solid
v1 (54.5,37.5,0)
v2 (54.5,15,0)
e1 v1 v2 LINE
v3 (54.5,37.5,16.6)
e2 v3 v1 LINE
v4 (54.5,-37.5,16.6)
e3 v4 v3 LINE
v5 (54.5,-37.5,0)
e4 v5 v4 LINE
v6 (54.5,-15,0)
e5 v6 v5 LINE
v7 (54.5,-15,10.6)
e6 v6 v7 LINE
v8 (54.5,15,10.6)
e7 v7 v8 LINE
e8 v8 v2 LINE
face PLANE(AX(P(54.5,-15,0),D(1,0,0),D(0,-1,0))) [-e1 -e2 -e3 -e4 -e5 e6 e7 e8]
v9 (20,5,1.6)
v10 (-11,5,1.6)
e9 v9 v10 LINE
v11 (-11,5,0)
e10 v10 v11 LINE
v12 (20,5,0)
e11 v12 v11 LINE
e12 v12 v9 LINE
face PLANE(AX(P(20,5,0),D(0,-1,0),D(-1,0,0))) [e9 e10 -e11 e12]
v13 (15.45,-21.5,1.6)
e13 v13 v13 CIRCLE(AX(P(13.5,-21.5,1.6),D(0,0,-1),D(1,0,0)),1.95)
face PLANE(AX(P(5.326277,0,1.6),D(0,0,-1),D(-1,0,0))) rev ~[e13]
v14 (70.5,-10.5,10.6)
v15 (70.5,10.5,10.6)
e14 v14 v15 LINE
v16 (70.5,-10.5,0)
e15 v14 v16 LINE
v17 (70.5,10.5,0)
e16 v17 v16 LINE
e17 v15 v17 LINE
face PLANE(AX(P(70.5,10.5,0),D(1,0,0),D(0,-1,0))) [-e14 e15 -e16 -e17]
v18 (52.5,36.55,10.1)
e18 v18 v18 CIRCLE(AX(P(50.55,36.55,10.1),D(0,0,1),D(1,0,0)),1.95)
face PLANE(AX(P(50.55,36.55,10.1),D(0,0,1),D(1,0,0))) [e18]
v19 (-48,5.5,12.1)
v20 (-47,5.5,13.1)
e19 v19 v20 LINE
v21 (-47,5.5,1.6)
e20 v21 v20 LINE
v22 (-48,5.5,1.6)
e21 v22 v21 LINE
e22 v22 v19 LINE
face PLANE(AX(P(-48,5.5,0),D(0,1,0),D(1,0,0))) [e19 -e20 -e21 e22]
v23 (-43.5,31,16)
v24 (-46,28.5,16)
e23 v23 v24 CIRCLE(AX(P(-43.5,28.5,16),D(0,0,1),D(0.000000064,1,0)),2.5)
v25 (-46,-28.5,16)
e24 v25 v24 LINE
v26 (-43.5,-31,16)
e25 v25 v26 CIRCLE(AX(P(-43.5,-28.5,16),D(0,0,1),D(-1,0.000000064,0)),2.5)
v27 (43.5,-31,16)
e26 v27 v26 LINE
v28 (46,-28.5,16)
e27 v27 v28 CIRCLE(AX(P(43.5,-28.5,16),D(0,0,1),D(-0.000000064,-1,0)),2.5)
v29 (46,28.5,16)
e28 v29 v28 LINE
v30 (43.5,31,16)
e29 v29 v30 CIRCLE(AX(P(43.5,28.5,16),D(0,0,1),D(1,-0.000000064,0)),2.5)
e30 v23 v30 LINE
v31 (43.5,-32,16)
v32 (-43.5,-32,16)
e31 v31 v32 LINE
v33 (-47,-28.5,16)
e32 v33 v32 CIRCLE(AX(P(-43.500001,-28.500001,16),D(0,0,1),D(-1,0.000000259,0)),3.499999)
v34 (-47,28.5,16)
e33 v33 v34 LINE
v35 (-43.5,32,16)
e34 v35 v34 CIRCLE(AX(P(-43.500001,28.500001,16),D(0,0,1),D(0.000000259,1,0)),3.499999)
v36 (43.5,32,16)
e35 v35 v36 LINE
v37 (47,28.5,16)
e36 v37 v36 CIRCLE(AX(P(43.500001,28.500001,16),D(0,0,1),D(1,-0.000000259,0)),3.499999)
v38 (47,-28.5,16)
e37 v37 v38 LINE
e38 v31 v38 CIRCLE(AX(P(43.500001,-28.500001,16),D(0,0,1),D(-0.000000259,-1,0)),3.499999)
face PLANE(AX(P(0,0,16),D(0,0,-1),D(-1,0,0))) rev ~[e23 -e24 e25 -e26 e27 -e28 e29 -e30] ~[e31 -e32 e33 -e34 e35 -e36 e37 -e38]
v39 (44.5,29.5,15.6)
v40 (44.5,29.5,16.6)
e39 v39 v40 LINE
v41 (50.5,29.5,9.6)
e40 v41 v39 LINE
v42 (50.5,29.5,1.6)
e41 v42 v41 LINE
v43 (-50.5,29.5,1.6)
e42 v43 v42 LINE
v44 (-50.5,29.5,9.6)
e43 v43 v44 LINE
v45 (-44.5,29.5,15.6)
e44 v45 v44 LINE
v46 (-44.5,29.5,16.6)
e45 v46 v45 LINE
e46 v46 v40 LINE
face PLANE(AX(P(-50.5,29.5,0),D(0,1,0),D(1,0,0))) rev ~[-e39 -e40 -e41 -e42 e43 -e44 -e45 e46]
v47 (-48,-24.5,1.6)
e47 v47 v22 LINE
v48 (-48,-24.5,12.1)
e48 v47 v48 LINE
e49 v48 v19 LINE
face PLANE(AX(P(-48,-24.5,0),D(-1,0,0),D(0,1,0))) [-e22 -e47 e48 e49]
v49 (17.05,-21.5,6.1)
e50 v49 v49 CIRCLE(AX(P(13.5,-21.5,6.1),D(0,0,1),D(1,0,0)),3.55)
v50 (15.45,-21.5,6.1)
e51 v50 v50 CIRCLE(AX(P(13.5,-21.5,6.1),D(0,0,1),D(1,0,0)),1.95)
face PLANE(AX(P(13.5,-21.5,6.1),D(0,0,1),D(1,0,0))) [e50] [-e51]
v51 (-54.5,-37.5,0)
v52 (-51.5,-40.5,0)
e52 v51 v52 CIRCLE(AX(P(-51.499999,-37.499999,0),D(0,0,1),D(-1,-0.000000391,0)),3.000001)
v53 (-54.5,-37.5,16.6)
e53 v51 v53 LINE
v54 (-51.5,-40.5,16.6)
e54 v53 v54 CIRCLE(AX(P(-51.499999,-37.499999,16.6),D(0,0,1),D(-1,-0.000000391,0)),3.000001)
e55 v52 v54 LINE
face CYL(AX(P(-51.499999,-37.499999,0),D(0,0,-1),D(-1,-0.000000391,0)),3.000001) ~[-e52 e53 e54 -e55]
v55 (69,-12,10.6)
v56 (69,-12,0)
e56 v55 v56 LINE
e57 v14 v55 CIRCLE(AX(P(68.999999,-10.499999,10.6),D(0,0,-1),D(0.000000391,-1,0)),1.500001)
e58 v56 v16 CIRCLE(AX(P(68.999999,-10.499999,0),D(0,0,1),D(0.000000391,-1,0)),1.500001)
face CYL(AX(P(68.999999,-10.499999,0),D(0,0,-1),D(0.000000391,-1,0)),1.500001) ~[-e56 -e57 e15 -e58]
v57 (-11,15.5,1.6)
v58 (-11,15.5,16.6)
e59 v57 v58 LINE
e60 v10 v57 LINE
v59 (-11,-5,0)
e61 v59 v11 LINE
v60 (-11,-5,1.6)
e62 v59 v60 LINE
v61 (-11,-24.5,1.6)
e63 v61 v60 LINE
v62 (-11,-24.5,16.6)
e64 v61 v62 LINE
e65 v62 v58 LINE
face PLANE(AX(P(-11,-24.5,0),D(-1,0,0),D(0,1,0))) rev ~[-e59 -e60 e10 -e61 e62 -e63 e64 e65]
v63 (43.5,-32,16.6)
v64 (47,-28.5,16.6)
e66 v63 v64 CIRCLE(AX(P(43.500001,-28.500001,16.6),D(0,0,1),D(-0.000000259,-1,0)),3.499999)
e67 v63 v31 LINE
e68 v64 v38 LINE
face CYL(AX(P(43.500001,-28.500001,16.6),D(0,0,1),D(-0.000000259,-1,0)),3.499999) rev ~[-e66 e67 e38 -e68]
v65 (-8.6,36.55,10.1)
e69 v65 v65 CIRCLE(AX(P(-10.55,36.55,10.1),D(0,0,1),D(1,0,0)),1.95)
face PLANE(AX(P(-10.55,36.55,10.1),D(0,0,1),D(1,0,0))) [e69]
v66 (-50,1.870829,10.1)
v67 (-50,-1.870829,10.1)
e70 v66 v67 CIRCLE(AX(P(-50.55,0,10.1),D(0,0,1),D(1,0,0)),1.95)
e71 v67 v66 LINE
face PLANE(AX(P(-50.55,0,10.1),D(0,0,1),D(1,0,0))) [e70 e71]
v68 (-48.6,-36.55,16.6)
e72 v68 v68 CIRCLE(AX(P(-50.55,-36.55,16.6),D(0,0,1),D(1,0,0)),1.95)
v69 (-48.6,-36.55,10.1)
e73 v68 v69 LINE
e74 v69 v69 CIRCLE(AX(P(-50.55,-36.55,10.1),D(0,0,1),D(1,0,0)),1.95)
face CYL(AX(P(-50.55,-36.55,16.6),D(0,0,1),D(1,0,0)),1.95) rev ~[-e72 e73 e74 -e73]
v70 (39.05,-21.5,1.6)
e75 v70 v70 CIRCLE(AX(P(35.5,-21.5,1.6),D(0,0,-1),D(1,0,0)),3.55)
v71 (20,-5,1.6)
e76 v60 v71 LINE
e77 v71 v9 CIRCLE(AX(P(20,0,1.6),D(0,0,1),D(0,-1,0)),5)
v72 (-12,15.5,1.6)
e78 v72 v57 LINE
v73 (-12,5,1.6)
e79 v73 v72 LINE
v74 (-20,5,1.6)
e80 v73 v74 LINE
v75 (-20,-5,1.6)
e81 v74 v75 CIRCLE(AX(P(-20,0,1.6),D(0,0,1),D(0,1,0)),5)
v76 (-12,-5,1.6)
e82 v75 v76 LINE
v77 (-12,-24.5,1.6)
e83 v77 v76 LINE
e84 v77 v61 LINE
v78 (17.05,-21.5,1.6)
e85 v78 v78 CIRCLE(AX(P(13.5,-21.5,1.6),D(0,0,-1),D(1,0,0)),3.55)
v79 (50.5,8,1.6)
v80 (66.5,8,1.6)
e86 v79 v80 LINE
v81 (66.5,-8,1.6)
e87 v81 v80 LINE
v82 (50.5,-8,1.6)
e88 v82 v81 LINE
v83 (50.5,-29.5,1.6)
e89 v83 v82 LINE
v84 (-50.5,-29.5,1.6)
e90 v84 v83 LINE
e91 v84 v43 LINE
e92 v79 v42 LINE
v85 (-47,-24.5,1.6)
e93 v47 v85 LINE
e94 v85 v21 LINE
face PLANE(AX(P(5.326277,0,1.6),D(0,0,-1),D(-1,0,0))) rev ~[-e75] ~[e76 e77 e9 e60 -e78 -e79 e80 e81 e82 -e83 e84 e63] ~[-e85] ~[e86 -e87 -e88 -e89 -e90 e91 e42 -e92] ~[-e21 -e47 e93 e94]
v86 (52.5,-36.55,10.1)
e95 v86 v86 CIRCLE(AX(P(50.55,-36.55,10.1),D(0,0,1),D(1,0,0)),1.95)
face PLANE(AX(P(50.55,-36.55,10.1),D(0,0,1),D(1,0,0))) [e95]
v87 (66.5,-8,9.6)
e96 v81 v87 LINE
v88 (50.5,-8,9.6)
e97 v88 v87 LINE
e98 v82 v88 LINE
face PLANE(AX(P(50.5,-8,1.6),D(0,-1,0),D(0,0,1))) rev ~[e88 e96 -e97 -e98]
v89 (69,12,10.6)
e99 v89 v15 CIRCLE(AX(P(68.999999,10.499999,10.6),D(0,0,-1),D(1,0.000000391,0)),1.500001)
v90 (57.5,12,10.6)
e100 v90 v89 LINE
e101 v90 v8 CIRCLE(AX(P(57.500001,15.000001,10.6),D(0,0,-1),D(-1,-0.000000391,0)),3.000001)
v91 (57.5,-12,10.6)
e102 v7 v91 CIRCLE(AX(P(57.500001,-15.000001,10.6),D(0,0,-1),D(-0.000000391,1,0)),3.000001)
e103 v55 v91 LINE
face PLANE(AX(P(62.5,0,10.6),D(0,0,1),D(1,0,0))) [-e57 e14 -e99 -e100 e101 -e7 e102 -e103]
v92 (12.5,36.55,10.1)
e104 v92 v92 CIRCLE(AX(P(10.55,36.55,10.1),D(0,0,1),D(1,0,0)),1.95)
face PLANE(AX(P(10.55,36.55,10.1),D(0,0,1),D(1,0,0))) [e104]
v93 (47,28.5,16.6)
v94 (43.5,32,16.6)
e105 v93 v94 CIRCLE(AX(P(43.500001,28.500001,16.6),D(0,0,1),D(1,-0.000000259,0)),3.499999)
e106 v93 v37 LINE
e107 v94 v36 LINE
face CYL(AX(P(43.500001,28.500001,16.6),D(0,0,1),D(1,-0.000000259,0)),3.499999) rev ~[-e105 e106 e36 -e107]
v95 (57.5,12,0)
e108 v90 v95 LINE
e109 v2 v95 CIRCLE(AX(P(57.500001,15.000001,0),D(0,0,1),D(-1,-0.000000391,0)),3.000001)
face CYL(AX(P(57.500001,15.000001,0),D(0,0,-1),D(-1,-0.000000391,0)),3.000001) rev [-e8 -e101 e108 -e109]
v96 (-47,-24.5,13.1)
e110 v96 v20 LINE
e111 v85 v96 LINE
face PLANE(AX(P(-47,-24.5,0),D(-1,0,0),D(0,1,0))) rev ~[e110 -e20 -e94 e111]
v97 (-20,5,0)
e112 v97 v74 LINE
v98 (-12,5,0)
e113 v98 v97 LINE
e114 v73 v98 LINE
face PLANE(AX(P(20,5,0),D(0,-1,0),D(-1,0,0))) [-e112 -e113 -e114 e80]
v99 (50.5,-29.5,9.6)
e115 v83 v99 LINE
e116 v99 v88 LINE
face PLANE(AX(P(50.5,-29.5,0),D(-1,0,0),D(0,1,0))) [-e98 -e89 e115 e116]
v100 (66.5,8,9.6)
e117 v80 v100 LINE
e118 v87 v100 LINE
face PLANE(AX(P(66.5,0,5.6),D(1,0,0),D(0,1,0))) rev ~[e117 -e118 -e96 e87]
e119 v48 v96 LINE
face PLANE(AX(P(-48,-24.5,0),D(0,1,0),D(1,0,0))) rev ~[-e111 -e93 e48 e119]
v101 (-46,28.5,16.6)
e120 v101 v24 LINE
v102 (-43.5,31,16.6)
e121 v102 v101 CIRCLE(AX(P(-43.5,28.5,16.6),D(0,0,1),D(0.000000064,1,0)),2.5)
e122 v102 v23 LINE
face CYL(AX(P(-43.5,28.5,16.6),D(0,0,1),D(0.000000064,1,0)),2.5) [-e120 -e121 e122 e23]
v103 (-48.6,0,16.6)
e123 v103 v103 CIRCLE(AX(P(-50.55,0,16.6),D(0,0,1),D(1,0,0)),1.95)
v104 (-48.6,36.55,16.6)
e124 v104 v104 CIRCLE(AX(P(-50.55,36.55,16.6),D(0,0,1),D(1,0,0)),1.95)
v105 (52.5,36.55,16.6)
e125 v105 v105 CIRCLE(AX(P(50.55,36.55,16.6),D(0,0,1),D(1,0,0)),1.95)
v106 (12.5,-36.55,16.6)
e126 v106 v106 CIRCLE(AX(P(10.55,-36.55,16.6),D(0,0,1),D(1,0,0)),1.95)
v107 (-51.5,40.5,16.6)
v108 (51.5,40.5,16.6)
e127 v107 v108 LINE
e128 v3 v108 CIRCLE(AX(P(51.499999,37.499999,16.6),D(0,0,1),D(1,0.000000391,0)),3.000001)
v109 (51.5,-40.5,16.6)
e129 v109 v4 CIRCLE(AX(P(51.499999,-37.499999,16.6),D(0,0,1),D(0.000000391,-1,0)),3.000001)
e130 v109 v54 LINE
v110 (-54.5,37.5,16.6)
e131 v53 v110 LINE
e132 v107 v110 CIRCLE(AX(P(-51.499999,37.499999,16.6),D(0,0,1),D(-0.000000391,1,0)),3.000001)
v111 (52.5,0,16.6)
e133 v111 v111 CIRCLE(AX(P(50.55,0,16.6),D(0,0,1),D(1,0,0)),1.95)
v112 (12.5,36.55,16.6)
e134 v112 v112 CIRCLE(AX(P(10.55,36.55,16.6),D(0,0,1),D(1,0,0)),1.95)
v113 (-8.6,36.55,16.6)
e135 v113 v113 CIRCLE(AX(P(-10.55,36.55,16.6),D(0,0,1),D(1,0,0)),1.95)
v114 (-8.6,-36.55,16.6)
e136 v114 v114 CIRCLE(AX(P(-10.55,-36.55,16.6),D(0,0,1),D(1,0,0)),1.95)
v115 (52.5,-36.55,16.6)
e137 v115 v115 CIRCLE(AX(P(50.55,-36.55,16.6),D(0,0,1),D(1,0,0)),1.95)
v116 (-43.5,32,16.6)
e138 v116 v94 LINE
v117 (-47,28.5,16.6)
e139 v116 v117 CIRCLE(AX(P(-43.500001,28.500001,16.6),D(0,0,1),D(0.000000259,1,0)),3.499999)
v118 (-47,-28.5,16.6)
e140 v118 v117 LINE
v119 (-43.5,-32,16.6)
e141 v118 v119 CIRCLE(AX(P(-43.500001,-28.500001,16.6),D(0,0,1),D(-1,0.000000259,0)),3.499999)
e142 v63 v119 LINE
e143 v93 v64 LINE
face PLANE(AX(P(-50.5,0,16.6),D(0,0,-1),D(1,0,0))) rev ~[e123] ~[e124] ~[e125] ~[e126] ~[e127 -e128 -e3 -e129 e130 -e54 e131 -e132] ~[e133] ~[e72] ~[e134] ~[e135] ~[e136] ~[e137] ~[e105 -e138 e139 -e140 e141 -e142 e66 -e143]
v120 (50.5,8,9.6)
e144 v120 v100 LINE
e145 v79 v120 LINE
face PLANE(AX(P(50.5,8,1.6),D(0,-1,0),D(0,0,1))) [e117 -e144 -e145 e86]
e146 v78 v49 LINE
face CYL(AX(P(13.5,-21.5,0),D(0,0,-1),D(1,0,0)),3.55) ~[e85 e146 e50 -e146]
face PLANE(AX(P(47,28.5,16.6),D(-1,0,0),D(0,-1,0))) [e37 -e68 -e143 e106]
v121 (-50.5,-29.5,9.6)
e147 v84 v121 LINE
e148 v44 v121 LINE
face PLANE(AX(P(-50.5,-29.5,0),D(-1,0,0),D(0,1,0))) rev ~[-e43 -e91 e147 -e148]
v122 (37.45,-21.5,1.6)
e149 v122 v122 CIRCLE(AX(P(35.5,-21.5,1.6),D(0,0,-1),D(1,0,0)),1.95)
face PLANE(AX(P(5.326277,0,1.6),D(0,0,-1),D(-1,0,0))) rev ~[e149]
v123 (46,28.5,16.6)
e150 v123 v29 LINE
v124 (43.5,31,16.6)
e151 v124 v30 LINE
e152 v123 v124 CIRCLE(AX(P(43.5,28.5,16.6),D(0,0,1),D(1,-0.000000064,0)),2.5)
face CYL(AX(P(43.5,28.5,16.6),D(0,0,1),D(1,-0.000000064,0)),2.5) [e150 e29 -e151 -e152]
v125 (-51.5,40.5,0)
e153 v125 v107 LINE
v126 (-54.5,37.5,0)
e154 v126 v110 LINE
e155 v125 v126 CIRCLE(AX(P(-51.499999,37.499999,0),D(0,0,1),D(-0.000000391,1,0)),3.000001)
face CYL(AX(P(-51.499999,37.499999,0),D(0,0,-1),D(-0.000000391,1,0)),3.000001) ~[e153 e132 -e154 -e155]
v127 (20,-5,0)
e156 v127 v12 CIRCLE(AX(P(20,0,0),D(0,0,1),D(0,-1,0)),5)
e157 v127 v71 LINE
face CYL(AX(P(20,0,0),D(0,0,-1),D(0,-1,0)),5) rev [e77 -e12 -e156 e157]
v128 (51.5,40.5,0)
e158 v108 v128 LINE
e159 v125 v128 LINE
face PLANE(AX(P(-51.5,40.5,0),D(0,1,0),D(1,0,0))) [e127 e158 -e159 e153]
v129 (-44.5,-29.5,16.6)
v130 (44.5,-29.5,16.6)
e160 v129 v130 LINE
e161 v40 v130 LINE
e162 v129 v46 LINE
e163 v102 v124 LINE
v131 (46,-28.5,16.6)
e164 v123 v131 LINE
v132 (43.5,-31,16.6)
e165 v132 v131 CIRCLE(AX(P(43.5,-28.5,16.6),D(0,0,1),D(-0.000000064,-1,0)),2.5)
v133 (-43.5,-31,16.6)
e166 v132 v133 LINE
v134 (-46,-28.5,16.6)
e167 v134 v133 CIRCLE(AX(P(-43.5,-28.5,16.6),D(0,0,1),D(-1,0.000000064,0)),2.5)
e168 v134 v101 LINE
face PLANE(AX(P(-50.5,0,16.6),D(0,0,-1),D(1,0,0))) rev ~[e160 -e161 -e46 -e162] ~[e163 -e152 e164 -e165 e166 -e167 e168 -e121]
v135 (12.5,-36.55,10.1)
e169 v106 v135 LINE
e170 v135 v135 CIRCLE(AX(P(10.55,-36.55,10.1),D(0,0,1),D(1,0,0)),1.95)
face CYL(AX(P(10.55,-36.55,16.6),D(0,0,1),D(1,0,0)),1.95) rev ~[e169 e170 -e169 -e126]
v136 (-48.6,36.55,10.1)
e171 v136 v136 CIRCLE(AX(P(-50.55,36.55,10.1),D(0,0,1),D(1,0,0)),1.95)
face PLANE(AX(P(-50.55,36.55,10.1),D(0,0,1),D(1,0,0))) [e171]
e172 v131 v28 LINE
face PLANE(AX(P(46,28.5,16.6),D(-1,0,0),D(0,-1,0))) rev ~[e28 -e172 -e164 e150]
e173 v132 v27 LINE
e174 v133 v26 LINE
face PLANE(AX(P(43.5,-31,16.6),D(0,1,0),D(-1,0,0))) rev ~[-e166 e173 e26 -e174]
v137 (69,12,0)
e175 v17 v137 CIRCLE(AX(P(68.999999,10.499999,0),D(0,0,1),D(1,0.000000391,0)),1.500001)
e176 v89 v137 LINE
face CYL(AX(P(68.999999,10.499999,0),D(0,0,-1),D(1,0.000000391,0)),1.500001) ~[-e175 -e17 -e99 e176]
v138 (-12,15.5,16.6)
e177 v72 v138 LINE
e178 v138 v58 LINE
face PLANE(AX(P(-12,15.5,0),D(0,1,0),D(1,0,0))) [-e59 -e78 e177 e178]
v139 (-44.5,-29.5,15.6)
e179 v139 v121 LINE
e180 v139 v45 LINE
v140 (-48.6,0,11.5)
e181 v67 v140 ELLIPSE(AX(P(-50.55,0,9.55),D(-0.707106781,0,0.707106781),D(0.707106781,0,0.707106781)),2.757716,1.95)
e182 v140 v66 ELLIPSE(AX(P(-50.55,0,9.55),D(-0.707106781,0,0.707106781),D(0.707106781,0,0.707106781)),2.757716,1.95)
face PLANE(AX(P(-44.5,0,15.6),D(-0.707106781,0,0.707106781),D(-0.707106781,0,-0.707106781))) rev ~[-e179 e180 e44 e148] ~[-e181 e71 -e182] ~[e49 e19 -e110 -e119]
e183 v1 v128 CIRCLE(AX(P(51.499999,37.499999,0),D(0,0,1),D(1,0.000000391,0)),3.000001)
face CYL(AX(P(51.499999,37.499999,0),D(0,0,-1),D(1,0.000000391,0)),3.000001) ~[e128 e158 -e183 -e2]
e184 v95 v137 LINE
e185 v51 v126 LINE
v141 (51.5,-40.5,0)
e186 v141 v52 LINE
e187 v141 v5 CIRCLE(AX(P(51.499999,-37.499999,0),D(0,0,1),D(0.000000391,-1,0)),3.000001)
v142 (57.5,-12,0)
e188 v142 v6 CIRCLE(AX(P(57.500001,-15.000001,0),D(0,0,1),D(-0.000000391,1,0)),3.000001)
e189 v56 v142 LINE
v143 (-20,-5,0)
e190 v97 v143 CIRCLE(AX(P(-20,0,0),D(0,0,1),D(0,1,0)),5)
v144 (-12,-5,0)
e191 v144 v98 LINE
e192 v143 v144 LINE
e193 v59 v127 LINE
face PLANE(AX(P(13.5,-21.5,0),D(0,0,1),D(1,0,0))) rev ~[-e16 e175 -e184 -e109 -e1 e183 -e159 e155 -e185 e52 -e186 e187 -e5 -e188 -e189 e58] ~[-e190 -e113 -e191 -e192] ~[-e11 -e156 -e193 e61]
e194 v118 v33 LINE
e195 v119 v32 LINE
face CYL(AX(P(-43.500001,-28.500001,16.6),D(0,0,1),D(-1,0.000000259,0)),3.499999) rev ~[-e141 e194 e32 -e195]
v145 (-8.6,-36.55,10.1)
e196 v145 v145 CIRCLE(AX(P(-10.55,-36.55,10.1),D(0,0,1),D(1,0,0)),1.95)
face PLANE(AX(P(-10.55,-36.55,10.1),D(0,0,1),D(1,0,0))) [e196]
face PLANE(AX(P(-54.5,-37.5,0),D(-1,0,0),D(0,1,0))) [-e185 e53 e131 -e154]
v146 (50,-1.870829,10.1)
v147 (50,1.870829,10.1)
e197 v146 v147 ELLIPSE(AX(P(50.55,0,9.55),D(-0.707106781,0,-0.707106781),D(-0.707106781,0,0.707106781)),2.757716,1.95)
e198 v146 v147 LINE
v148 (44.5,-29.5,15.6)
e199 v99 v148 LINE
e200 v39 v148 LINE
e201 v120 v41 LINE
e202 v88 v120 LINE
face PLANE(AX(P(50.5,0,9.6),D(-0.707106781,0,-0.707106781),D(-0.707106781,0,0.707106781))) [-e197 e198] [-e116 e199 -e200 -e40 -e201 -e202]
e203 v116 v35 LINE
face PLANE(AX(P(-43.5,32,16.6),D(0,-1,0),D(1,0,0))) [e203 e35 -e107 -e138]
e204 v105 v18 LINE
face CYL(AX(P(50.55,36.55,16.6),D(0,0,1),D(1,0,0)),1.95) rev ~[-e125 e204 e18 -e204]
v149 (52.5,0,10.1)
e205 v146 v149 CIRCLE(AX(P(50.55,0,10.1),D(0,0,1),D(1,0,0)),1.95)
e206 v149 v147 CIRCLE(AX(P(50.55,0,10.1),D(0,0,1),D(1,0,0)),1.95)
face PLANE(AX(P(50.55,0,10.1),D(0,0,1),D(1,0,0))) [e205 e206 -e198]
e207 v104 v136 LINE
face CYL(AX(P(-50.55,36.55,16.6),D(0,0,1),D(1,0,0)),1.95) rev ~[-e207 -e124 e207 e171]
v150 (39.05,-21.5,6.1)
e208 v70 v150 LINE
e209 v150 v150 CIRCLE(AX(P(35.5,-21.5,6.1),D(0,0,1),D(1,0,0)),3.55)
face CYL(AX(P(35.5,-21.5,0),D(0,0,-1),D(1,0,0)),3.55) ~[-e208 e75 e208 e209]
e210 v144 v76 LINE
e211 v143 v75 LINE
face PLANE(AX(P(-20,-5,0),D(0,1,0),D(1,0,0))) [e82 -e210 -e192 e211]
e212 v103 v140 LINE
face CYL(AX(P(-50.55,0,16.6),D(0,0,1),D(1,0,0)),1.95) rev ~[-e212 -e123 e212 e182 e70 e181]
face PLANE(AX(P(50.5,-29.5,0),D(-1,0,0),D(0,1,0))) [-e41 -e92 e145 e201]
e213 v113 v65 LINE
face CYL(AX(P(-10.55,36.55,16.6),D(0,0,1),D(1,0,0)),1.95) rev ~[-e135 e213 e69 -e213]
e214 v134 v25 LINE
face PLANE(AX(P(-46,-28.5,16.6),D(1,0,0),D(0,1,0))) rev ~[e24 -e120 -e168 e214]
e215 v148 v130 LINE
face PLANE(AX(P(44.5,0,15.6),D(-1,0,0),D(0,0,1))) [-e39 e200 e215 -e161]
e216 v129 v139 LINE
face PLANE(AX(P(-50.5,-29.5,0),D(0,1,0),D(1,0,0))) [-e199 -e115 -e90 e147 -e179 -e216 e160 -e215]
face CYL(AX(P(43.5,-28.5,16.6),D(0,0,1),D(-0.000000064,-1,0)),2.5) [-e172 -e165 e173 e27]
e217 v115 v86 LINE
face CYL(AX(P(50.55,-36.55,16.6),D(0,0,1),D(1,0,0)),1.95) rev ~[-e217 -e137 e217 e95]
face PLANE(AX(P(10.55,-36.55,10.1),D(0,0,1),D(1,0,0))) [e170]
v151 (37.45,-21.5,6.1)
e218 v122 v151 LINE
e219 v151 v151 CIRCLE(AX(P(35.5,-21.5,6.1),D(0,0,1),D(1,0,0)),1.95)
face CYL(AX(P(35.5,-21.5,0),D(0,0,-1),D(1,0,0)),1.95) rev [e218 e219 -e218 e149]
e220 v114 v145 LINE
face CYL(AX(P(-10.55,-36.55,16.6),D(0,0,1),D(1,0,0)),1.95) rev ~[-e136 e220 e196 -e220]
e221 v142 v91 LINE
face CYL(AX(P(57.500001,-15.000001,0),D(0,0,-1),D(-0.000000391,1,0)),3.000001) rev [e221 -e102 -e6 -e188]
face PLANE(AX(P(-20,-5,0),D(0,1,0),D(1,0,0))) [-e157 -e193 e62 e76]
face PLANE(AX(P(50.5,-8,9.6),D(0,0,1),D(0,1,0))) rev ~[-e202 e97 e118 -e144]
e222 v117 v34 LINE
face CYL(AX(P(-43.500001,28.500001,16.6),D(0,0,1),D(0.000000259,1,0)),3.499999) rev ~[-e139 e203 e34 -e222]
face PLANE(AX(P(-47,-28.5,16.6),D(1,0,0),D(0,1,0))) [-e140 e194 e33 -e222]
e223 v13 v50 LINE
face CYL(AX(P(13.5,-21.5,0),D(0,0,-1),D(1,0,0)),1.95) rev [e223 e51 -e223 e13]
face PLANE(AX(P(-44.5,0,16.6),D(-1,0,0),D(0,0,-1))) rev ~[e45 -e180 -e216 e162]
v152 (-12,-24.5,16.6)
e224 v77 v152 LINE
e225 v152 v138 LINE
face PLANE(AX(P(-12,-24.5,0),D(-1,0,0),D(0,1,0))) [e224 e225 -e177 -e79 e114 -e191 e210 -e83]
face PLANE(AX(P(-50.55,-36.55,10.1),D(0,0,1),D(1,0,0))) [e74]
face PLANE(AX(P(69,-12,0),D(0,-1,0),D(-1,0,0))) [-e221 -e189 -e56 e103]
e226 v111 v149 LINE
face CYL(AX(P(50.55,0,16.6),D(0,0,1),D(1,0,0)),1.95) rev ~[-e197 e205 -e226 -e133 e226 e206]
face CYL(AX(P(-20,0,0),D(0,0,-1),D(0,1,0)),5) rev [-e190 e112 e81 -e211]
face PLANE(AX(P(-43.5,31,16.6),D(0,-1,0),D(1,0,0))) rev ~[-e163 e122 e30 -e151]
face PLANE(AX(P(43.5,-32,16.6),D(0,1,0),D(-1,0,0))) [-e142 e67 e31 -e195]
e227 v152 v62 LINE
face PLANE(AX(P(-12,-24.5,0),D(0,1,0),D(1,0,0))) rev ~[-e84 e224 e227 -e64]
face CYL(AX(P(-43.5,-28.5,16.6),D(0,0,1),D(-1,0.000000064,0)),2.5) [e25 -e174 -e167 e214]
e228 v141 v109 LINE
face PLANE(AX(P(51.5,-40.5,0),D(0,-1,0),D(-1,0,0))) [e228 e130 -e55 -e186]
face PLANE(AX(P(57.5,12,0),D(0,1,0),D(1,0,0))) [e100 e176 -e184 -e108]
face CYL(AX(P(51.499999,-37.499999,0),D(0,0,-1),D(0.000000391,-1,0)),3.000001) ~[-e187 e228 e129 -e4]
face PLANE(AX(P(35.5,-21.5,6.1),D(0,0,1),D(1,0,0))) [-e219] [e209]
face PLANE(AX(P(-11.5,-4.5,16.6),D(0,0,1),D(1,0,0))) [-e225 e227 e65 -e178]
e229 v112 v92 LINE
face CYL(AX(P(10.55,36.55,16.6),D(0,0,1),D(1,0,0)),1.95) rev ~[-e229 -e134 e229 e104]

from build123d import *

# Parameters (mm, degrees)
PAD_DEPTH       = 1.6
SKETCH_W        = 101
SKETCH_H        = 59
SKETCH_W_2      = 1
SKETCH_H_2      = 30
SKETCH_H_3      = 40
PAD001_DEPTH    = 16.6
SKETCH002_W     = 16
SKETCH002_H     = 30
POCKET_DEPTH    = 6
SKETCH003_W     = 16
SKETCH003_H     = 8
POCKET001_DEPTH = 16
SKETCH005_R     = 3.55
SKETCH005_R_2   = 1.95
PAD002_DEPTH    = 6.1
PAD005_DEPTH    = 29.5
POCKET003_DEPTH = 0.6
SKETCH004_R     = 1.95
POCKET002_DEPTH = 6.5


with BuildPart() as part:
    # Sketch001 → Pad (new body)
    with BuildSketch(Plane.XY):
        with BuildLine():
            Line((-51.5, 40.5), (51.5, 40.5))
            ThreePointArc((54.5, 37.5), (53.62132, 39.62132), (51.5, 40.5))
            Line((54.5, 37.5), (54.5, 15))
            ThreePointArc((54.5, 15), (55.37868, 12.87868), (57.5, 12))
            Line((57.5, 12), (69, 12))
            ThreePointArc((70.5, 10.5), (70.06066, 11.56066), (69, 12))
            Line((70.5, 10.5), (70.5, -10.5))
            ThreePointArc((69, -12), (70.06066, -11.56066), (70.5, -10.5))
            Line((69, -12), (57.5, -12))
            ThreePointArc((57.5, -12), (55.37868, -12.87868), (54.5, -15))
            Line((54.5, -15), (54.5, -37.5))
            ThreePointArc((51.5, -40.5), (53.62132, -39.62132), (54.5, -37.5))
            Line((51.5, -40.5), (-51.5, -40.5))
            ThreePointArc((-54.5, -37.5), (-53.62132, -39.62132), (-51.5, -40.5))
            Line((-54.5, -37.5), (-54.5, 37.5))
            ThreePointArc((-51.5, 40.5), (-53.62132, 39.62132), (-54.5, 37.5))
        make_face()
        with BuildLine():
            ThreePointArc((-20, 5), (-25, 0), (-20, -5))
            Line((-20, -5), (20, -5))
            ThreePointArc((20, -5), (25, 0), (20, 5))
            Line((20, 5), (-20, 5))
        make_face(mode=Mode.SUBTRACT)
    extrude(amount=PAD_DEPTH)

    # Sketch → Pad001 (join)
    with BuildSketch(Plane.XY):
        with BuildLine():
            Line((-51.5, 40.5), (51.5, 40.5))
            ThreePointArc((54.5, 37.5), (53.62132, 39.62132), (51.5, 40.5))
            Line((54.5, 37.5), (54.5, 15))
            ThreePointArc((54.5, 15), (55.37868, 12.87868), (57.5, 12))
            Line((57.5, 12), (69, 12))
            ThreePointArc((70.5, 10.5), (70.06066, 11.56066), (69, 12))
            Line((70.5, 10.5), (70.5, -10.5))
            ThreePointArc((69, -12), (70.06066, -11.56066), (70.5, -10.5))
            Line((69, -12), (57.5, -12))
            ThreePointArc((57.5, -12), (55.37868, -12.87868), (54.5, -15))
            Line((54.5, -15), (54.5, -37.5))
            ThreePointArc((51.5, -40.5), (53.62132, -39.62132), (54.5, -37.5))
            Line((51.5, -40.5), (-51.5, -40.5))
            ThreePointArc((-54.5, -37.5), (-53.62132, -39.62132), (-51.5, -40.5))
            Line((-54.5, -37.5), (-54.5, 37.5))
            ThreePointArc((-51.5, 40.5), (-53.62132, 39.62132), (-54.5, 37.5))
        make_face()
        Rectangle(SKETCH_W, SKETCH_H, mode=Mode.SUBTRACT)
        with Locations((-47.5, -9.5)):
            Rectangle(SKETCH_W_2, SKETCH_H_2)
        with Locations((-11.5, -4.5)):
            Rectangle(SKETCH_W_2, SKETCH_H_3)
    extrude(amount=PAD001_DEPTH)

    # Sketch002 (on DatumPlane) → Pocket (cut)
    with BuildSketch(Plane.XY.offset(16.6)):
        with Locations((62.5, 0)):
            Rectangle(SKETCH002_W, SKETCH002_H)
    extrude(amount=-POCKET_DEPTH, mode=Mode.SUBTRACT)

    # Sketch003 (on DatumPlane) → Pocket001 (cut)
    with BuildSketch(Plane.YZ.offset(50.5)):
        with Locations((0, 5.6)):
            Rectangle(SKETCH003_W, SKETCH003_H)
    extrude(amount=POCKET001_DEPTH, mode=Mode.SUBTRACT)

    # Sketch005 → Pad002 (join)
    with BuildSketch(Plane.XY):
        with Locations((13.5, -21.5)):
            Circle(SKETCH005_R)
        with Locations((13.5, -21.5)):
            Circle(SKETCH005_R_2, mode=Mode.SUBTRACT)
        with Locations((35.5, -21.5)):
            Circle(SKETCH005_R)
        with Locations((35.5, -21.5)):
            Circle(SKETCH005_R_2, mode=Mode.SUBTRACT)
    extrude(amount=PAD002_DEPTH)

    # Sketch010 → Pad005 (join, symmetric)
    with BuildSketch(Plane.XZ):
        Polygon((44.5, 16.6), (50.5, 16.6), (50.5, 9.6), (44.5, 15.6), align=None)
        Polygon((-50.5, 16.6), (-44.5, 16.6), (-44.5, 15.6), (-50.5, 9.6), align=None)
    extrude(amount=PAD005_DEPTH, both=True)

    # Sketch006 (on DatumPlane) → Pocket003 (cut)
    with BuildSketch(Plane.XY.offset(16.6)):
        with BuildLine():
            Line((-43.5, 32), (43.5, 32))
            ThreePointArc((47, 28.5), (45.974874, 30.974874), (43.5, 32))
            Line((47, 28.5), (47, -28.5))
            ThreePointArc((43.5, -32), (45.974874, -30.974874), (47, -28.5))
            Line((43.5, -32), (-43.5, -32))
            ThreePointArc((-47, -28.5), (-45.974874, -30.974874), (-43.5, -32))
            Line((-47, -28.5), (-47, 28.5))
            ThreePointArc((-43.5, 32), (-45.974874, 30.974874), (-47, 28.5))
        make_face()
        with BuildLine():
            Line((-43.5, 31), (43.5, 31))
            ThreePointArc((46, 28.5), (45.267767, 30.267767), (43.5, 31))
            Line((46, 28.5), (46, -28.5))
            ThreePointArc((43.5, -31), (45.267767, -30.267767), (46, -28.5))
            Line((43.5, -31), (-43.5, -31))
            ThreePointArc((-46, -28.5), (-45.267767, -30.267767), (-43.5, -31))
            Line((-46, -28.5), (-46, 28.5))
            ThreePointArc((-43.5, 31), (-45.267767, 30.267767), (-46, 28.5))
        make_face(mode=Mode.SUBTRACT)
    extrude(amount=-POCKET003_DEPTH, mode=Mode.SUBTRACT)

    # Sketch004 (on DatumPlane) → Pocket002 (cut)
    with BuildSketch(Plane.XY.offset(16.6)):
        with Locations((-50.55, 36.55)):
            Circle(SKETCH004_R)
        with Locations((-10.55, 36.55)):
            Circle(SKETCH004_R)
        with Locations((10.55, 36.55)):
            Circle(SKETCH004_R)
        with Locations((50.55, 36.55)):
            Circle(SKETCH004_R)
        with Locations((50.55, -36.55)):
            Circle(SKETCH004_R)
        with Locations((10.55, -36.55)):
            Circle(SKETCH004_R)
        with Locations((-10.55, -36.55)):
            Circle(SKETCH004_R)
        with Locations((-50.55, -36.55)):
            Circle(SKETCH004_R)
        with Locations((-50.55, 0)):
            Circle(SKETCH004_R)
        with Locations((50.55, 0)):
            Circle(SKETCH004_R)
    extrude(amount=-POCKET002_DEPTH, mode=Mode.SUBTRACT)


solid = part.part
